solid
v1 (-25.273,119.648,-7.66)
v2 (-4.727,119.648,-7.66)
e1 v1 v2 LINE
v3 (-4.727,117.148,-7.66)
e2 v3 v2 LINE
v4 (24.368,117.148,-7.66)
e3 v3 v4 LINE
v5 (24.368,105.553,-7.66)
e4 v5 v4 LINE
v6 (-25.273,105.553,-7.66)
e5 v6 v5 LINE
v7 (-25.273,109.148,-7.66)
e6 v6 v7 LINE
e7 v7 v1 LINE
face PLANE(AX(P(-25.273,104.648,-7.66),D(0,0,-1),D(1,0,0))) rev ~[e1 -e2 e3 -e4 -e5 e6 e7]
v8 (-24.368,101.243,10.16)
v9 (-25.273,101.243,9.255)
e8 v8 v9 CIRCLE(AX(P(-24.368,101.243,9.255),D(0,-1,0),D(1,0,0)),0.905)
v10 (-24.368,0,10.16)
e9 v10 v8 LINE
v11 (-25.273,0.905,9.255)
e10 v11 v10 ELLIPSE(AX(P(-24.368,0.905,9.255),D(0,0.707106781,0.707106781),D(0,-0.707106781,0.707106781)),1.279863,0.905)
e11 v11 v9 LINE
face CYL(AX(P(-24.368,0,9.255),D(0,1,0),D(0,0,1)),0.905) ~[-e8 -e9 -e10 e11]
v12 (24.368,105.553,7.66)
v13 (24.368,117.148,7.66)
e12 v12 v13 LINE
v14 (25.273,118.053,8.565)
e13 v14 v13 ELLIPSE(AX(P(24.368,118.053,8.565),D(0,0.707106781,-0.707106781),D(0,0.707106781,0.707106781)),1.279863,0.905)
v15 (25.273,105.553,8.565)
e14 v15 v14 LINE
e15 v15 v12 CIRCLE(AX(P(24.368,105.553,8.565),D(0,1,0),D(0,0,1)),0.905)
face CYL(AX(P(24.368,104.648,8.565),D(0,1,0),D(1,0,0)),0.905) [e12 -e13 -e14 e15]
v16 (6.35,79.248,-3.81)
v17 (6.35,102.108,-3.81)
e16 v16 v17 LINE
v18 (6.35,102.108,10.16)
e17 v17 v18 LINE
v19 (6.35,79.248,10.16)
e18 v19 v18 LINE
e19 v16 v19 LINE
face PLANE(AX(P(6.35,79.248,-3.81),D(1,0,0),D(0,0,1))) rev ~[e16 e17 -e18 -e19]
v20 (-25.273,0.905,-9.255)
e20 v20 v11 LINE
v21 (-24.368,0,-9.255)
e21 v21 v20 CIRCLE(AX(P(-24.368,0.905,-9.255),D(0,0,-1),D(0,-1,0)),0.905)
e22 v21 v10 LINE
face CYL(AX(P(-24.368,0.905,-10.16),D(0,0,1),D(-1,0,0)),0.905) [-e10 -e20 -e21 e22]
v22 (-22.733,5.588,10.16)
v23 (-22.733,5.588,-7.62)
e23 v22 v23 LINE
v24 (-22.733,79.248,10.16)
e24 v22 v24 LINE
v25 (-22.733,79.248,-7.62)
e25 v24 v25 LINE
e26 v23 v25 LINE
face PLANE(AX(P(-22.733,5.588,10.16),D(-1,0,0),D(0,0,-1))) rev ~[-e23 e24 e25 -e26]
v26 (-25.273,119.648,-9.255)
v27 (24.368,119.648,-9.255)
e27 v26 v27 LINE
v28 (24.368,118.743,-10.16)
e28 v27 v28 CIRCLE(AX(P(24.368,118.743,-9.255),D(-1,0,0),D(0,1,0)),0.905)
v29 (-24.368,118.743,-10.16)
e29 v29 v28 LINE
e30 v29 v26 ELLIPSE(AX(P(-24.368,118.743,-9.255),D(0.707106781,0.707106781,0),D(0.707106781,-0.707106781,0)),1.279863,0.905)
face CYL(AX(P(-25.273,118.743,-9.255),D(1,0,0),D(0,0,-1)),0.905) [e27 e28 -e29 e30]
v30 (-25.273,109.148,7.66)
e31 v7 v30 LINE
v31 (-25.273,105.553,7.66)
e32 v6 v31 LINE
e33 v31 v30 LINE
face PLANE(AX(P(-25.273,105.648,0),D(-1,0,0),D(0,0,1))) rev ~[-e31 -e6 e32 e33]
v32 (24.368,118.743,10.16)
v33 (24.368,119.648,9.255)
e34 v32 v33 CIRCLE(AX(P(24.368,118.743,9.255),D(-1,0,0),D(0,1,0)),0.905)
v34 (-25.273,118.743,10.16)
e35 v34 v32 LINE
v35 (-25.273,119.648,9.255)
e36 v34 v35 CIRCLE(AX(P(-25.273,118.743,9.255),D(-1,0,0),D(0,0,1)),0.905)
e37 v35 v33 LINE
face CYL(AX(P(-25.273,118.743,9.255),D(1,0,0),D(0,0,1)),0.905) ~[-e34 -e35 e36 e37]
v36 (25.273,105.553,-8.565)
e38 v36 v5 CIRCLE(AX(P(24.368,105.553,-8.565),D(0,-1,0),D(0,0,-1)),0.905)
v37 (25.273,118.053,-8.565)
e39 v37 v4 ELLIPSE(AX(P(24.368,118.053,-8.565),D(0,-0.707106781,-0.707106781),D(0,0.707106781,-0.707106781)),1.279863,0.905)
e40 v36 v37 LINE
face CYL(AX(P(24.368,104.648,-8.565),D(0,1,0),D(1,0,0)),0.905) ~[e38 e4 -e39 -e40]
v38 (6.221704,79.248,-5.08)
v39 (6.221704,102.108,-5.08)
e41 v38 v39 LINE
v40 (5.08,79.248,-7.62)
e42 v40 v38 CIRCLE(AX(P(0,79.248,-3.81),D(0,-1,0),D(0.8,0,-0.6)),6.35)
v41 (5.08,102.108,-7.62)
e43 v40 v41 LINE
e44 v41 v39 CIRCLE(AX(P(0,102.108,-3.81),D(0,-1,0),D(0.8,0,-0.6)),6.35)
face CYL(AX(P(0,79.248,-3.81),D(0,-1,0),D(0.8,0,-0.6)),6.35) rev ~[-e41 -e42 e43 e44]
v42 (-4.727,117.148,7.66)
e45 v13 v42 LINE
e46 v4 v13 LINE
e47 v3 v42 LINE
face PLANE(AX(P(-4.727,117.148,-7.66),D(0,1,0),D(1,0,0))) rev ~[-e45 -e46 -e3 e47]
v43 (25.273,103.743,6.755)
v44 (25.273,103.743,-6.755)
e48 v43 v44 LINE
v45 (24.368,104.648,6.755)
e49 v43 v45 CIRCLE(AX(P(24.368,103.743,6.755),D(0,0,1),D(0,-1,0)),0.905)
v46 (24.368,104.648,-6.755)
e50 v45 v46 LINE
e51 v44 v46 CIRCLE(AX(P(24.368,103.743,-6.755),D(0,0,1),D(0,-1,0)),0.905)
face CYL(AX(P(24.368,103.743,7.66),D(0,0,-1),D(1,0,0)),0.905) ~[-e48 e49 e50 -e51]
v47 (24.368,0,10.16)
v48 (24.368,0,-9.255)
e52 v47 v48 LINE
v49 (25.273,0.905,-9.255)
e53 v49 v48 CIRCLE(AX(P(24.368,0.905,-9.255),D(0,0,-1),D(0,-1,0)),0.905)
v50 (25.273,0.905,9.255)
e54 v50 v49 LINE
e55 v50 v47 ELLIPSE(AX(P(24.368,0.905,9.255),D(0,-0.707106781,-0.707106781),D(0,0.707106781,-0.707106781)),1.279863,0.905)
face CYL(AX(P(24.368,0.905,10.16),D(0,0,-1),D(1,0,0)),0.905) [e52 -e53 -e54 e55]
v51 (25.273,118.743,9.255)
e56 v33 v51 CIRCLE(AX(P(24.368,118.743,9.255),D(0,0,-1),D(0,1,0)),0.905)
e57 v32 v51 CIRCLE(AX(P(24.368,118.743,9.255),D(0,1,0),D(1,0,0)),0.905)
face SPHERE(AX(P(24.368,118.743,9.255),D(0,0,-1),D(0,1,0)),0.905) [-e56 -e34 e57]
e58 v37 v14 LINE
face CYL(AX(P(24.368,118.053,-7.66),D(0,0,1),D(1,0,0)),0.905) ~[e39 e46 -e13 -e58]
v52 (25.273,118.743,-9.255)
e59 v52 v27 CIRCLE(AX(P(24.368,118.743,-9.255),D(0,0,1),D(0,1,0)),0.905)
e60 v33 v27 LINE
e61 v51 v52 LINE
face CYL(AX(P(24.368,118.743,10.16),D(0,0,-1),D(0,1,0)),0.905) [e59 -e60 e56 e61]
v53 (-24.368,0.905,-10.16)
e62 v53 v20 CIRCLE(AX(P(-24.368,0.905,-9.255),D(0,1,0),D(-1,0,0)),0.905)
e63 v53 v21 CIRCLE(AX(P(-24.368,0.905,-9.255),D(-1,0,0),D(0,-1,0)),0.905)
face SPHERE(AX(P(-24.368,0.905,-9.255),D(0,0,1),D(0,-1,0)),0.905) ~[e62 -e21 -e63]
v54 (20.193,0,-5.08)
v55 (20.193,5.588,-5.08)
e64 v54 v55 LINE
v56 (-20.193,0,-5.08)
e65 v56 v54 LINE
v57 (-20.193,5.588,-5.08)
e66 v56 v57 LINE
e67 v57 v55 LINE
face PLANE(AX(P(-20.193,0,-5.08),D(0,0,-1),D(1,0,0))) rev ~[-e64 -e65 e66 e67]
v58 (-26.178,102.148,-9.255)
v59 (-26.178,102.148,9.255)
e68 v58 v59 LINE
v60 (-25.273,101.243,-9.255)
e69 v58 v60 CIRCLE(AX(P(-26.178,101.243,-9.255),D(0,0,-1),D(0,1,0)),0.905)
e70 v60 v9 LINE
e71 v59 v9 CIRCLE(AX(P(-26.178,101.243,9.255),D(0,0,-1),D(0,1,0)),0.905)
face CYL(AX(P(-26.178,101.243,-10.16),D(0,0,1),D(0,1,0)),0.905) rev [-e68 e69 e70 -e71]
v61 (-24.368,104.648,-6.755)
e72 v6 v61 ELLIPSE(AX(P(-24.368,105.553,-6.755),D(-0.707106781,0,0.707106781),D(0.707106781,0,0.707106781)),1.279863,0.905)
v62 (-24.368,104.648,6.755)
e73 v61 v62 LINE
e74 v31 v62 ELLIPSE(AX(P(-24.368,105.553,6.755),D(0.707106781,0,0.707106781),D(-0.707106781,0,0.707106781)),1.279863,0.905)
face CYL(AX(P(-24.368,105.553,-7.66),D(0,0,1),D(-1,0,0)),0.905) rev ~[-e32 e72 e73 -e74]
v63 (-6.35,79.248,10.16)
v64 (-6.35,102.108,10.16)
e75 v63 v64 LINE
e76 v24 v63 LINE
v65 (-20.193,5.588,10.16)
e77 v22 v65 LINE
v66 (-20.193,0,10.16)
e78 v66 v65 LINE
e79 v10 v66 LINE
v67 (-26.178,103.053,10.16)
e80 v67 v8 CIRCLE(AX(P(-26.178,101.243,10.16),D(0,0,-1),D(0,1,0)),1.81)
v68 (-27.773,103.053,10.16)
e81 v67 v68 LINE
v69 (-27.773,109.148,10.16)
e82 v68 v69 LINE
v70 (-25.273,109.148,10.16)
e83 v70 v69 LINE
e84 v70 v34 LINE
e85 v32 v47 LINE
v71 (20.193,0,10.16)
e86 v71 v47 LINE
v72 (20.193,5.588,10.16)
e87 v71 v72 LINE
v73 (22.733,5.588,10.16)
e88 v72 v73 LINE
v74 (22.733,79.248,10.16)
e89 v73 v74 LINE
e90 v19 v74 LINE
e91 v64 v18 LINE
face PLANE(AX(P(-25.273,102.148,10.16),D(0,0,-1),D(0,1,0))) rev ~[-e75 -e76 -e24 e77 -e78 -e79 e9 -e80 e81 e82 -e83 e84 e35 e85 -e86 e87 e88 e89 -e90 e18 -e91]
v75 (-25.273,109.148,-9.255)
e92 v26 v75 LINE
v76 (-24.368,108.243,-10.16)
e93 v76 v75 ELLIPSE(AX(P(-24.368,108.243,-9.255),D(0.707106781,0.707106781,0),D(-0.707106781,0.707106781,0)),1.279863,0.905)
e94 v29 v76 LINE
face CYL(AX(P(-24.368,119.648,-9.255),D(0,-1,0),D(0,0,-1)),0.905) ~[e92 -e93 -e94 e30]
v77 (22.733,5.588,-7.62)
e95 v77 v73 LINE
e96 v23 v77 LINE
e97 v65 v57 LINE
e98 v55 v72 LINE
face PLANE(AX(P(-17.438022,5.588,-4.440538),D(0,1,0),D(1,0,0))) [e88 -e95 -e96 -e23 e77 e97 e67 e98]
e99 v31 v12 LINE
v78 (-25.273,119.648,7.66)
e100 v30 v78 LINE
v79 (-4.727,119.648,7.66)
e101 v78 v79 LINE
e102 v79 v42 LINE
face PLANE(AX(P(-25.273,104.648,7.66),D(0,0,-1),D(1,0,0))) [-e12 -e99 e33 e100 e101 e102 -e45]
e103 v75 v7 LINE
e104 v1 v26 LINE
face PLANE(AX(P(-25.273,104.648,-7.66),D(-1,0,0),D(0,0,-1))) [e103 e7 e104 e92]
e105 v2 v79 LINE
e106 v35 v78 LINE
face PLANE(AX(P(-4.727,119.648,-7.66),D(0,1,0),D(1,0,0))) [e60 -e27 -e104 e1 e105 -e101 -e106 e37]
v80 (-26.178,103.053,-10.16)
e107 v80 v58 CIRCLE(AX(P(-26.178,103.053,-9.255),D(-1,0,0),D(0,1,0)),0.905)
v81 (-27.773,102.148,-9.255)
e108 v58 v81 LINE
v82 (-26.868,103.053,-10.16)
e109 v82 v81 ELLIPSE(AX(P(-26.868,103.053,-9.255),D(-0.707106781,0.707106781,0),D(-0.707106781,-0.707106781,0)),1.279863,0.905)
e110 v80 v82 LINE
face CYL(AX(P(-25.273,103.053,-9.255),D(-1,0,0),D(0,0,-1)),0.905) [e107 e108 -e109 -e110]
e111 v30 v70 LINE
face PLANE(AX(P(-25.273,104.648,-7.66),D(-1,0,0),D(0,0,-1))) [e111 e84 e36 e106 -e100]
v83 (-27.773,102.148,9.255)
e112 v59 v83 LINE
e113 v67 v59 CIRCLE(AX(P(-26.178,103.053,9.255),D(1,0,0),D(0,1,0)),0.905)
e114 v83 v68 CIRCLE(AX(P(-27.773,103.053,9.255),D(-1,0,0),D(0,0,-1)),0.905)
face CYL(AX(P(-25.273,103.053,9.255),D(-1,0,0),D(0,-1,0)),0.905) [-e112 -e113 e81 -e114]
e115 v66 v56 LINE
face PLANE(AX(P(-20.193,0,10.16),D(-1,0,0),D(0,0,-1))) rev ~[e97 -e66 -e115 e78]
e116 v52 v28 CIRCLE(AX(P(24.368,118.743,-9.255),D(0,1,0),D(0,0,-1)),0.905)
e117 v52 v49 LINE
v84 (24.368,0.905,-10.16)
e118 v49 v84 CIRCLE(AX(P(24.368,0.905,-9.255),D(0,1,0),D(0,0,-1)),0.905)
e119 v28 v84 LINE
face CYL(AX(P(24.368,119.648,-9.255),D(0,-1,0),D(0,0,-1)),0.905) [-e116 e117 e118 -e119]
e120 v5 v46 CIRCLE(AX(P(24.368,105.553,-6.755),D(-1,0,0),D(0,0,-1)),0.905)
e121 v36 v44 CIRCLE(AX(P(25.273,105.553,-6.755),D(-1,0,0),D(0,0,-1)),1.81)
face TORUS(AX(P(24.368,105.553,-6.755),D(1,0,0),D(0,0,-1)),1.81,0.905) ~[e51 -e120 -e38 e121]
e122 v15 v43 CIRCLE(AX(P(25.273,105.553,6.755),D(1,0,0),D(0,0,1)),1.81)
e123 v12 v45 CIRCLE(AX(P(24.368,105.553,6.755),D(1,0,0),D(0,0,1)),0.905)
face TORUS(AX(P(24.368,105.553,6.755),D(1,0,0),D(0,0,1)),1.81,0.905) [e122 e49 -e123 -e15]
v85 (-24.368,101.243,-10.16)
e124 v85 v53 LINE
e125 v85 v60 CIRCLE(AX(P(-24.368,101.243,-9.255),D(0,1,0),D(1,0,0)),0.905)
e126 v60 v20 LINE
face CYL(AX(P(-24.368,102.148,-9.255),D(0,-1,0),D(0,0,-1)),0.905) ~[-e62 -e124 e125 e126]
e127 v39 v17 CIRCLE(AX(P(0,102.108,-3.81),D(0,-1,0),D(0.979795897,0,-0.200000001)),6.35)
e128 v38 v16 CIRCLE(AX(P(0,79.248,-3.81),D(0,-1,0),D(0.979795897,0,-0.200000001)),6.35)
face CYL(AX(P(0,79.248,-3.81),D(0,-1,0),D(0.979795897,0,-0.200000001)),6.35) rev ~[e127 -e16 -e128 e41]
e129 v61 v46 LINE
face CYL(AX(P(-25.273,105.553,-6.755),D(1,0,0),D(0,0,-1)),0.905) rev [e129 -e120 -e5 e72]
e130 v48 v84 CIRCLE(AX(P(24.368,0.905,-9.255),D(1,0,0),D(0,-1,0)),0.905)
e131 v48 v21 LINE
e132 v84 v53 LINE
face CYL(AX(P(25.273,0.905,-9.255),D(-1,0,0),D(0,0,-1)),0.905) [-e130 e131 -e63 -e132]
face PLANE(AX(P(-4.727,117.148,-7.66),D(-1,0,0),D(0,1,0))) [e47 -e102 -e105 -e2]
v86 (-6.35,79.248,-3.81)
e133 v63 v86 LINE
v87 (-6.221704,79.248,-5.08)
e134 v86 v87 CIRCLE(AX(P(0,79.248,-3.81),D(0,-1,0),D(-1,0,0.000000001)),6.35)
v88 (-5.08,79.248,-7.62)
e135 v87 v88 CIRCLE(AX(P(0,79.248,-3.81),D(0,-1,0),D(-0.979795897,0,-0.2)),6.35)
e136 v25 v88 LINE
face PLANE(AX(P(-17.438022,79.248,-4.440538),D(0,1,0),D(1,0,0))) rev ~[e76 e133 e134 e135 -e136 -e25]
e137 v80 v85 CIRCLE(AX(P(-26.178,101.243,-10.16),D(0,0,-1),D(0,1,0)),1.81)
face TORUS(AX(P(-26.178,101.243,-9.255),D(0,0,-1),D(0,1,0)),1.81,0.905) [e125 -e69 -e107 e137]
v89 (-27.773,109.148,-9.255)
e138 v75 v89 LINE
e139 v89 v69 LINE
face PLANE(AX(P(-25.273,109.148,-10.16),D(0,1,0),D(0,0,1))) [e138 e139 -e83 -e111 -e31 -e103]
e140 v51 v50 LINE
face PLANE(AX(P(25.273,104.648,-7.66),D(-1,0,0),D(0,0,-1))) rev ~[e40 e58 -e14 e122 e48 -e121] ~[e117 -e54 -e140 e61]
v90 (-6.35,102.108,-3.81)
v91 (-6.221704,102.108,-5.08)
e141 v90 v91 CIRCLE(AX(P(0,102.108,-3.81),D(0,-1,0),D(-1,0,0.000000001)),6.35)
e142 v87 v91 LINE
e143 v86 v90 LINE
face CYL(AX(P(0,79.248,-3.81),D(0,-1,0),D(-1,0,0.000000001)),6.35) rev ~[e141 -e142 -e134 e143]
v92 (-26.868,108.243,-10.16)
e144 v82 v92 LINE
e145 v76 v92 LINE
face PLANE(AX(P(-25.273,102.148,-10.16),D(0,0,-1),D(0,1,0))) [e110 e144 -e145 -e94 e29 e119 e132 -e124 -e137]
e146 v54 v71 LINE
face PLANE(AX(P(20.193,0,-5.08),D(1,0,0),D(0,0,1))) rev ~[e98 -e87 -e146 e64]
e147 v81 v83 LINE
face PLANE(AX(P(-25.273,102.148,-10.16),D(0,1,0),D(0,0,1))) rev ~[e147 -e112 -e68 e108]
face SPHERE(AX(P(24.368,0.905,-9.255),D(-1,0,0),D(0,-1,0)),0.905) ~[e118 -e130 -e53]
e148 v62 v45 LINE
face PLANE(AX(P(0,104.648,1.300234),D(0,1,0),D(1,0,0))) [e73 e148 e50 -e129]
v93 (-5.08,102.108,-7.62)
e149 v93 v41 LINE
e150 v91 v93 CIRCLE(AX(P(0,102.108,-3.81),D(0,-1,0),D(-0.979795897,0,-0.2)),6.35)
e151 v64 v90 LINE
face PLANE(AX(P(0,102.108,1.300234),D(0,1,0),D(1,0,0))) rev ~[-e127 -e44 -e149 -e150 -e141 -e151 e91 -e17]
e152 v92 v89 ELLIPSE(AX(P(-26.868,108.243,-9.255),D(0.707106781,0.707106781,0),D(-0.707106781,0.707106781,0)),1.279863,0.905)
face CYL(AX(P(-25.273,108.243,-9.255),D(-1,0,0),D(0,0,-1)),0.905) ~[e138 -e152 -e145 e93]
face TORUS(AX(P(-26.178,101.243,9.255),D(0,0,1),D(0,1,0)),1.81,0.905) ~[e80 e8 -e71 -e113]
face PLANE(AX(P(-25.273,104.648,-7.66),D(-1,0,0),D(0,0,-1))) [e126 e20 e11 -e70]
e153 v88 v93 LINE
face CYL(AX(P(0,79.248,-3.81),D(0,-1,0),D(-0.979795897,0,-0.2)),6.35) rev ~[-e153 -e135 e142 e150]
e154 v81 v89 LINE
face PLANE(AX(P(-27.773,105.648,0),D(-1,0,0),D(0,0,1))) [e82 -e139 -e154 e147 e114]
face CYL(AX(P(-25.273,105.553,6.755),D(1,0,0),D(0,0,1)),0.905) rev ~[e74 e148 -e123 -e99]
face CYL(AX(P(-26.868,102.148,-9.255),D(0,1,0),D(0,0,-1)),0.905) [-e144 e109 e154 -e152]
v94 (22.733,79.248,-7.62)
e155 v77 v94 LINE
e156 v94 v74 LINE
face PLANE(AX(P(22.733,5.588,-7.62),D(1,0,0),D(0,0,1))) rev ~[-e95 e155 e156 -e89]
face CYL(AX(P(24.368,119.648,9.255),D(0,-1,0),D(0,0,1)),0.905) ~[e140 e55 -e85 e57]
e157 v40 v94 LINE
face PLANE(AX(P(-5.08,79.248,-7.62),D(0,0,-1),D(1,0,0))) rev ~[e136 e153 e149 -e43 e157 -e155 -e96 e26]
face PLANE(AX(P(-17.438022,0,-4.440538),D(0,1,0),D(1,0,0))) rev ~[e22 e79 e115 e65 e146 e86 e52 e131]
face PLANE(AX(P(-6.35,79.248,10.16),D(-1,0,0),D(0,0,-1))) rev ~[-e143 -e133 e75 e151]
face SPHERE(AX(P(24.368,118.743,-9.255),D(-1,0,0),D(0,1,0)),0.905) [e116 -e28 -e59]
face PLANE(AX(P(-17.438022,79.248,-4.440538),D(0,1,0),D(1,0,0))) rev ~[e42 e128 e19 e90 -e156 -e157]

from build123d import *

# Parameters (mm, degrees)
SKETCH1_W            = 2.54
SKETCH1_H            = 2.54
BOSS_EXTRUDE3_DEPTH  = 5.588
BOSS_EXTRUDE4_START  = 5.588
BOSS_EXTRUDE4_DEPTH  = 73.66
BOSS_EXTRUDE6_START  = 79.248
SKETCH1_8_W          = 2.54
SKETCH1_8_H          = 2.54
SKETCH1_8_W_2        = 13.843
BOSS_EXTRUDE6_DEPTH  = 22.86
BOSS_EXTRUDE7_START  = 102.108
SKETCH1_9_W          = 12.7
SKETCH1_9_H          = 2.54
SKETCH1_9_W_2        = 2.54
SKETCH1_9_W_3        = 13.843
BOSS_EXTRUDE7_DEPTH  = 2.54
SKETCH2_W            = 50.546
SKETCH2_H            = 2.5
BOSS_EXTRUDE8_DEPTH  = 15
BOSS_EXTRUDE9_REACH  = 19.82
SKETCH3_W            = 30
SKETCH3_H            = 2.5
SKETCH4_W            = 20.32
SKETCH4_H            = 7
BOSS_EXTRUDE10_DEPTH = 2.5
FILLET1_R            = 0.905


with BuildPart() as part:
    # Sketch1 → Boss-Extrude3 (new body)
    with BuildSketch(Plane(origin=(0, 0, 0), x_dir=(1, 0, 0), z_dir=(0, 1, 0))):
        with BuildLine():
            Line((-22.733, -10.16), (-22.733, -7.62))
            Line((-22.733, -7.62), (-22.733, 7.62))
            Line((-22.733, 7.62), (-5.08, 7.62))
            ThreePointArc((-5.08, 7.62), (-2.839806331, 9.489612663), (0, 10.16))
            Line((0, 10.16), (-25.273, 10.16))
            Line((-25.273, 10.16), (-25.273, -10.16))
            Line((-25.273, -10.16), (-22.733, -10.16))
        make_face()
        with BuildLine():
            ThreePointArc((0, 10.16), (2.839806331, 9.489612663), (5.08, 7.62))
            Line((5.08, 7.62), (22.733, 7.62))
            Line((22.733, 7.62), (22.733, -7.62))
            Line((22.733, -7.62), (22.733, -10.16))
            Line((22.733, -10.16), (25.273, -10.16))
            Line((25.273, -10.16), (25.273, 10.16))
            Line((25.273, 10.16), (0, 10.16))
        make_face()
        with BuildLine():
            ThreePointArc((0, 10.16), (-2.839806331, 9.489612663), (-5.08, 7.62))
            Line((-5.08, 7.62), (5.08, 7.62))
            ThreePointArc((5.08, 7.62), (2.839806331, 9.489612663), (0, 10.16))
        make_face()
        with BuildLine():
            Line((-22.733, 7.62), (-22.733, -7.62))
            Line((-22.733, -7.62), (-20.193, -7.62))
            Line((-20.193, -7.62), (-20.193, -5.08))
            Line((-20.193, -5.08), (-20.193, 5.08))
            Line((-20.193, 5.08), (-6.221703947, 5.08))
            ThreePointArc((-6.221703947, 5.08), (-5.791806974, 6.413357827), (-5.08, 7.62))
            Line((-5.08, 7.62), (-22.733, 7.62))
        make_face()
        with Locations((-21.463, -8.89)):
            Rectangle(SKETCH1_W, SKETCH1_H)
        with BuildLine():
            Line((5.08, 7.62), (-5.08, 7.62))
            ThreePointArc((-5.08, 7.62), (-5.791806974, 6.413357827), (-6.221703947, 5.08))
            Line((-6.221703947, 5.08), (6.221703947, 5.08))
            ThreePointArc((6.221703947, 5.08), (5.791806974, 6.413357827), (5.08, 7.62))
        make_face()
        with BuildLine():
            Line((22.733, 7.62), (5.08, 7.62))
            ThreePointArc((5.08, 7.62), (5.791806974, 6.413357827), (6.221703947, 5.08))
            Line((6.221703947, 5.08), (20.193, 5.08))
            Line((20.193, 5.08), (20.193, -5.08))
            Line((20.193, -5.08), (20.193, -7.62))
            Line((20.193, -7.62), (22.733, -7.62))
            Line((22.733, -7.62), (22.733, 7.62))
        make_face()
        with Locations((21.463, -8.89)):
            Rectangle(SKETCH1_W, SKETCH1_H)
    extrude(amount=BOSS_EXTRUDE3_DEPTH)

    # Sketch1<7> → Boss-Extrude4 (add)
    with BuildSketch(Plane(origin=(0, 0, 0), x_dir=(1, 0, 0), z_dir=(0, 1, 0)).offset(BOSS_EXTRUDE4_START)):
        with BuildLine():
            Line((-22.733, -10.16), (-22.733, -7.62))
            Line((-22.733, -7.62), (-22.733, 7.62))
            Line((-22.733, 7.62), (-5.08, 7.62))
            ThreePointArc((-5.08, 7.62), (-2.839806331, 9.489612663), (0, 10.16))
            Line((0, 10.16), (-25.273, 10.16))
            Line((-25.273, 10.16), (-25.273, -10.16))
            Line((-25.273, -10.16), (-22.733, -10.16))
        make_face()
        with BuildLine():
            ThreePointArc((0, 10.16), (2.839806331, 9.489612663), (5.08, 7.62))
            Line((5.08, 7.62), (22.733, 7.62))
            Line((22.733, 7.62), (22.733, -7.62))
            Line((22.733, -7.62), (22.733, -10.16))
            Line((22.733, -10.16), (25.273, -10.16))
            Line((25.273, -10.16), (25.273, 10.16))
            Line((25.273, 10.16), (0, 10.16))
        make_face()
        with BuildLine():
            ThreePointArc((0, 10.16), (-2.839806331, 9.489612663), (-5.08, 7.62))
            Line((-5.08, 7.62), (5.08, 7.62))
            ThreePointArc((5.08, 7.62), (2.839806331, 9.489612663), (0, 10.16))
        make_face()
    extrude(amount=BOSS_EXTRUDE4_DEPTH)

    # Sketch1<8> → Boss-Extrude6 (add)
    with BuildSketch(Plane(origin=(0, 0, 0), x_dir=(1, 0, 0), z_dir=(0, 1, 0)).offset(BOSS_EXTRUDE6_START)):
        with BuildLine():
            Line((-22.733, -10.16), (-22.733, -7.62))
            Line((-22.733, -7.62), (-22.733, 7.62))
            Line((-22.733, 7.62), (-5.08, 7.62))
            ThreePointArc((-5.08, 7.62), (-2.839806331, 9.489612663), (0, 10.16))
            Line((0, 10.16), (-25.273, 10.16))
            Line((-25.273, 10.16), (-25.273, -10.16))
            Line((-25.273, -10.16), (-22.733, -10.16))
        make_face()
        with BuildLine():
            Line((-22.733, 7.62), (-22.733, -7.62))
            Line((-22.733, -7.62), (-20.193, -7.62))
            Line((-20.193, -7.62), (-20.193, -5.08))
            Line((-20.193, -5.08), (-20.193, 5.08))
            Line((-20.193, 5.08), (-6.221703947, 5.08))
            ThreePointArc((-6.221703947, 5.08), (-5.791806974, 6.413357827), (-5.08, 7.62))
            Line((-5.08, 7.62), (-22.733, 7.62))
        make_face()
        with BuildLine():
            Line((-20.193, -5.08), (-20.193, -7.62))
            Line((-20.193, -7.62), (-6.35, -7.62))
            Line((-6.35, -7.62), (-6.35, -3.175))
            Line((-6.35, -3.175), (-6.35, 3.81))
            ThreePointArc((-6.35, 3.81), (-6.317844572, 4.448231909), (-6.221703947, 5.08))
            Line((-6.221703947, 5.08), (-20.193, 5.08))
            Line((-20.193, 5.08), (-20.193, -5.08))
        make_face()
        with Locations((-21.463, -8.89)):
            Rectangle(SKETCH1_8_W, SKETCH1_8_H)
        with Locations((-13.2715, -8.89)):
            Rectangle(SKETCH1_8_W_2, SKETCH1_8_H)
        with BuildLine():
            ThreePointArc((0, 10.16), (2.839806331, 9.489612663), (5.08, 7.62))
            Line((5.08, 7.62), (22.733, 7.62))
            Line((22.733, 7.62), (22.733, -7.62))
            Line((22.733, -7.62), (22.733, -10.16))
            Line((22.733, -10.16), (25.273, -10.16))
            Line((25.273, -10.16), (25.273, 10.16))
            Line((25.273, 10.16), (0, 10.16))
        make_face()
        with BuildLine():
            Line((22.733, 7.62), (5.08, 7.62))
            ThreePointArc((5.08, 7.62), (5.791806974, 6.413357827), (6.221703947, 5.08))
            Line((6.221703947, 5.08), (20.193, 5.08))
            Line((20.193, 5.08), (20.193, -5.08))
            Line((20.193, -5.08), (20.193, -7.62))
            Line((20.193, -7.62), (22.733, -7.62))
            Line((22.733, -7.62), (22.733, 7.62))
        make_face()
        with BuildLine():
            Line((6.35, -3.175), (6.35, -7.62))
            Line((6.35, -7.62), (20.193, -7.62))
            Line((20.193, -7.62), (20.193, -5.08))
            Line((20.193, -5.08), (20.193, 5.08))
            Line((20.193, 5.08), (6.221703947, 5.08))
            ThreePointArc((6.221703947, 5.08), (6.317844572, 4.448231909), (6.35, 3.81))
            Line((6.35, 3.81), (6.35, -3.175))
        make_face()
        with Locations((13.2715, -8.89)):
            Rectangle(SKETCH1_8_W_2, SKETCH1_8_H)
        with Locations((21.463, -8.89)):
            Rectangle(SKETCH1_8_W, SKETCH1_8_H)
        with BuildLine():
            ThreePointArc((0, 10.16), (-2.839806331, 9.489612663), (-5.08, 7.62))
            Line((-5.08, 7.62), (5.08, 7.62))
            ThreePointArc((5.08, 7.62), (2.839806331, 9.489612663), (0, 10.16))
        make_face()
    extrude(amount=BOSS_EXTRUDE6_DEPTH)

    # Sketch1<9> → Boss-Extrude7 (add)
    with BuildSketch(Plane(origin=(0, 0, 0), x_dir=(1, 0, 0), z_dir=(0, 1, 0)).offset(BOSS_EXTRUDE7_START)):
        with BuildLine():
            Line((-6.35, -3.175), (-6.35, -7.62))
            Line((-6.35, -7.62), (6.35, -7.62))
            Line((6.35, -7.62), (6.35, -3.175))
            Line((6.35, -3.175), (6.35, 3.81))
            ThreePointArc((6.35, 3.81), (6.317844572, 4.448231909), (6.221703947, 5.08))
            Line((6.221703947, 5.08), (-6.221703947, 5.08))
            ThreePointArc((-6.221703947, 5.08), (-6.317844572, 4.448231909), (-6.35, 3.81))
            Line((-6.35, 3.81), (-6.35, -3.175))
        make_face()
        with Locations((0, -8.89)):
            Rectangle(SKETCH1_9_W, SKETCH1_9_H)
        with BuildLine():
            Line((5.08, 7.62), (-5.08, 7.62))
            ThreePointArc((-5.08, 7.62), (-5.791806974, 6.413357827), (-6.221703947, 5.08))
            Line((-6.221703947, 5.08), (6.221703947, 5.08))
            ThreePointArc((6.221703947, 5.08), (5.791806974, 6.413357827), (5.08, 7.62))
        make_face()
        with BuildLine():
            Line((-22.733, -10.16), (-22.733, -7.62))
            Line((-22.733, -7.62), (-22.733, 7.62))
            Line((-22.733, 7.62), (-5.08, 7.62))
            ThreePointArc((-5.08, 7.62), (-2.839806331, 9.489612663), (0, 10.16))
            Line((0, 10.16), (-25.273, 10.16))
            Line((-25.273, 10.16), (-25.273, -10.16))
            Line((-25.273, -10.16), (-22.733, -10.16))
        make_face()
        with Locations((-21.463, -8.89)):
            Rectangle(SKETCH1_9_W_2, SKETCH1_9_H)
        with BuildLine():
            Line((-22.733, 7.62), (-22.733, -7.62))
            Line((-22.733, -7.62), (-20.193, -7.62))
            Line((-20.193, -7.62), (-20.193, -5.08))
            Line((-20.193, -5.08), (-20.193, 5.08))
            Line((-20.193, 5.08), (-6.221703947, 5.08))
            ThreePointArc((-6.221703947, 5.08), (-5.791806974, 6.413357827), (-5.08, 7.62))
            Line((-5.08, 7.62), (-22.733, 7.62))
        make_face()
        with Locations((-13.2715, -8.89)):
            Rectangle(SKETCH1_9_W_3, SKETCH1_9_H)
        with BuildLine():
            Line((-20.193, -5.08), (-20.193, -7.62))
            Line((-20.193, -7.62), (-6.35, -7.62))
            Line((-6.35, -7.62), (-6.35, -3.175))
            Line((-6.35, -3.175), (-6.35, 3.81))
            ThreePointArc((-6.35, 3.81), (-6.317844572, 4.448231909), (-6.221703947, 5.08))
            Line((-6.221703947, 5.08), (-20.193, 5.08))
            Line((-20.193, 5.08), (-20.193, -5.08))
        make_face()
        with BuildLine():
            ThreePointArc((0, 10.16), (-2.839806331, 9.489612663), (-5.08, 7.62))
            Line((-5.08, 7.62), (5.08, 7.62))
            ThreePointArc((5.08, 7.62), (2.839806331, 9.489612663), (0, 10.16))
        make_face()
        with BuildLine():
            Line((22.733, 7.62), (5.08, 7.62))
            ThreePointArc((5.08, 7.62), (5.791806974, 6.413357827), (6.221703947, 5.08))
            Line((6.221703947, 5.08), (20.193, 5.08))
            Line((20.193, 5.08), (20.193, -5.08))
            Line((20.193, -5.08), (20.193, -7.62))
            Line((20.193, -7.62), (22.733, -7.62))
            Line((22.733, -7.62), (22.733, 7.62))
        make_face()
        with BuildLine():
            ThreePointArc((0, 10.16), (2.839806331, 9.489612663), (5.08, 7.62))
            Line((5.08, 7.62), (22.733, 7.62))
            Line((22.733, 7.62), (22.733, -7.62))
            Line((22.733, -7.62), (22.733, -10.16))
            Line((22.733, -10.16), (25.273, -10.16))
            Line((25.273, -10.16), (25.273, 10.16))
            Line((25.273, 10.16), (0, 10.16))
        make_face()
        with BuildLine():
            Line((6.35, -3.175), (6.35, -7.62))
            Line((6.35, -7.62), (20.193, -7.62))
            Line((20.193, -7.62), (20.193, -5.08))
            Line((20.193, -5.08), (20.193, 5.08))
            Line((20.193, 5.08), (6.221703947, 5.08))
            ThreePointArc((6.221703947, 5.08), (6.317844572, 4.448231909), (6.35, 3.81))
            Line((6.35, 3.81), (6.35, -3.175))
        make_face()
        with Locations((13.2715, -8.89)):
            Rectangle(SKETCH1_9_W_3, SKETCH1_9_H)
        with Locations((21.463, -8.89)):
            Rectangle(SKETCH1_9_W_2, SKETCH1_9_H)
    extrude(amount=BOSS_EXTRUDE7_DEPTH)

    # Sketch2 → Boss-Extrude8 (add)
    with BuildSketch(Plane(origin=(0, 104.648, 0), x_dir=(1, 0, 0), z_dir=(0, 1, 0))):
        with Locations((0, 8.91)):
            Rectangle(SKETCH2_W, SKETCH2_H)
        with Locations((0, -8.91)):
            Rectangle(SKETCH2_W, SKETCH2_H)
    extrude(amount=BOSS_EXTRUDE8_DEPTH)

    # Sketch3 → Boss-Extrude9 (add, up to next)
    with BuildSketch(Plane.XY.offset(-7.66), mode=Mode.PRIVATE) as boss_extrude9_sk1:
        with Locations((10.273, 118.398)):
            Rectangle(SKETCH3_W, SKETCH3_H)
    boss_extrude9_tool1 = extrude(boss_extrude9_sk1.sketch, amount=BOSS_EXTRUDE9_REACH, mode=Mode.PRIVATE) - part.part
    add(boss_extrude9_tool1.solids().sort_by_distance((10.273, 118.398, -7.66))[0])

    # Sketch4 → Boss-Extrude10 (add)
    with BuildSketch(Plane.ZY.offset(25.273)):
        with Locations((0, 105.648)):
            Rectangle(SKETCH4_W, SKETCH4_H)
    extrude(amount=BOSS_EXTRUDE10_DEPTH)

    # Fillet1
    fillet1_edges = [part.edges().sort_by_distance(p)[0] for p in [
        (-25.273, 104.648, 0),
        (25.273, 104.648, 0),
        (0, 104.648, -7.66),
        (0, 119.648, -10.16),
        (25.273, 119.648, 0),
        (0, 104.648, 7.66),
        (0, 119.648, 10.16),
        (-25.273, 0, 0),
        (0, 0, -10.16),
        (25.273, 0, 0),
        (25.273, 110.898, -7.66),
        (25.273, 110.898, 7.66),
        (25.273, 117.148, 0),
        (-25.273, 51.074, 10.16),
        (-25.273, 51.074, -10.16),
        (-26.523, 109.148, -10.16),
        (-25.273, 102.148, 0),
        (-26.523, 102.148, -10.16),
        (-26.523, 102.148, 10.16),
        (-27.773, 105.648, -10.16),
        (-25.273, 114.398, -10.16),
        (25.273, 59.824, -10.16),
        (25.273, 59.824, 10.16),
    ]]
    fillet(fillet1_edges, radius=FILLET1_R)


solid = part.part
